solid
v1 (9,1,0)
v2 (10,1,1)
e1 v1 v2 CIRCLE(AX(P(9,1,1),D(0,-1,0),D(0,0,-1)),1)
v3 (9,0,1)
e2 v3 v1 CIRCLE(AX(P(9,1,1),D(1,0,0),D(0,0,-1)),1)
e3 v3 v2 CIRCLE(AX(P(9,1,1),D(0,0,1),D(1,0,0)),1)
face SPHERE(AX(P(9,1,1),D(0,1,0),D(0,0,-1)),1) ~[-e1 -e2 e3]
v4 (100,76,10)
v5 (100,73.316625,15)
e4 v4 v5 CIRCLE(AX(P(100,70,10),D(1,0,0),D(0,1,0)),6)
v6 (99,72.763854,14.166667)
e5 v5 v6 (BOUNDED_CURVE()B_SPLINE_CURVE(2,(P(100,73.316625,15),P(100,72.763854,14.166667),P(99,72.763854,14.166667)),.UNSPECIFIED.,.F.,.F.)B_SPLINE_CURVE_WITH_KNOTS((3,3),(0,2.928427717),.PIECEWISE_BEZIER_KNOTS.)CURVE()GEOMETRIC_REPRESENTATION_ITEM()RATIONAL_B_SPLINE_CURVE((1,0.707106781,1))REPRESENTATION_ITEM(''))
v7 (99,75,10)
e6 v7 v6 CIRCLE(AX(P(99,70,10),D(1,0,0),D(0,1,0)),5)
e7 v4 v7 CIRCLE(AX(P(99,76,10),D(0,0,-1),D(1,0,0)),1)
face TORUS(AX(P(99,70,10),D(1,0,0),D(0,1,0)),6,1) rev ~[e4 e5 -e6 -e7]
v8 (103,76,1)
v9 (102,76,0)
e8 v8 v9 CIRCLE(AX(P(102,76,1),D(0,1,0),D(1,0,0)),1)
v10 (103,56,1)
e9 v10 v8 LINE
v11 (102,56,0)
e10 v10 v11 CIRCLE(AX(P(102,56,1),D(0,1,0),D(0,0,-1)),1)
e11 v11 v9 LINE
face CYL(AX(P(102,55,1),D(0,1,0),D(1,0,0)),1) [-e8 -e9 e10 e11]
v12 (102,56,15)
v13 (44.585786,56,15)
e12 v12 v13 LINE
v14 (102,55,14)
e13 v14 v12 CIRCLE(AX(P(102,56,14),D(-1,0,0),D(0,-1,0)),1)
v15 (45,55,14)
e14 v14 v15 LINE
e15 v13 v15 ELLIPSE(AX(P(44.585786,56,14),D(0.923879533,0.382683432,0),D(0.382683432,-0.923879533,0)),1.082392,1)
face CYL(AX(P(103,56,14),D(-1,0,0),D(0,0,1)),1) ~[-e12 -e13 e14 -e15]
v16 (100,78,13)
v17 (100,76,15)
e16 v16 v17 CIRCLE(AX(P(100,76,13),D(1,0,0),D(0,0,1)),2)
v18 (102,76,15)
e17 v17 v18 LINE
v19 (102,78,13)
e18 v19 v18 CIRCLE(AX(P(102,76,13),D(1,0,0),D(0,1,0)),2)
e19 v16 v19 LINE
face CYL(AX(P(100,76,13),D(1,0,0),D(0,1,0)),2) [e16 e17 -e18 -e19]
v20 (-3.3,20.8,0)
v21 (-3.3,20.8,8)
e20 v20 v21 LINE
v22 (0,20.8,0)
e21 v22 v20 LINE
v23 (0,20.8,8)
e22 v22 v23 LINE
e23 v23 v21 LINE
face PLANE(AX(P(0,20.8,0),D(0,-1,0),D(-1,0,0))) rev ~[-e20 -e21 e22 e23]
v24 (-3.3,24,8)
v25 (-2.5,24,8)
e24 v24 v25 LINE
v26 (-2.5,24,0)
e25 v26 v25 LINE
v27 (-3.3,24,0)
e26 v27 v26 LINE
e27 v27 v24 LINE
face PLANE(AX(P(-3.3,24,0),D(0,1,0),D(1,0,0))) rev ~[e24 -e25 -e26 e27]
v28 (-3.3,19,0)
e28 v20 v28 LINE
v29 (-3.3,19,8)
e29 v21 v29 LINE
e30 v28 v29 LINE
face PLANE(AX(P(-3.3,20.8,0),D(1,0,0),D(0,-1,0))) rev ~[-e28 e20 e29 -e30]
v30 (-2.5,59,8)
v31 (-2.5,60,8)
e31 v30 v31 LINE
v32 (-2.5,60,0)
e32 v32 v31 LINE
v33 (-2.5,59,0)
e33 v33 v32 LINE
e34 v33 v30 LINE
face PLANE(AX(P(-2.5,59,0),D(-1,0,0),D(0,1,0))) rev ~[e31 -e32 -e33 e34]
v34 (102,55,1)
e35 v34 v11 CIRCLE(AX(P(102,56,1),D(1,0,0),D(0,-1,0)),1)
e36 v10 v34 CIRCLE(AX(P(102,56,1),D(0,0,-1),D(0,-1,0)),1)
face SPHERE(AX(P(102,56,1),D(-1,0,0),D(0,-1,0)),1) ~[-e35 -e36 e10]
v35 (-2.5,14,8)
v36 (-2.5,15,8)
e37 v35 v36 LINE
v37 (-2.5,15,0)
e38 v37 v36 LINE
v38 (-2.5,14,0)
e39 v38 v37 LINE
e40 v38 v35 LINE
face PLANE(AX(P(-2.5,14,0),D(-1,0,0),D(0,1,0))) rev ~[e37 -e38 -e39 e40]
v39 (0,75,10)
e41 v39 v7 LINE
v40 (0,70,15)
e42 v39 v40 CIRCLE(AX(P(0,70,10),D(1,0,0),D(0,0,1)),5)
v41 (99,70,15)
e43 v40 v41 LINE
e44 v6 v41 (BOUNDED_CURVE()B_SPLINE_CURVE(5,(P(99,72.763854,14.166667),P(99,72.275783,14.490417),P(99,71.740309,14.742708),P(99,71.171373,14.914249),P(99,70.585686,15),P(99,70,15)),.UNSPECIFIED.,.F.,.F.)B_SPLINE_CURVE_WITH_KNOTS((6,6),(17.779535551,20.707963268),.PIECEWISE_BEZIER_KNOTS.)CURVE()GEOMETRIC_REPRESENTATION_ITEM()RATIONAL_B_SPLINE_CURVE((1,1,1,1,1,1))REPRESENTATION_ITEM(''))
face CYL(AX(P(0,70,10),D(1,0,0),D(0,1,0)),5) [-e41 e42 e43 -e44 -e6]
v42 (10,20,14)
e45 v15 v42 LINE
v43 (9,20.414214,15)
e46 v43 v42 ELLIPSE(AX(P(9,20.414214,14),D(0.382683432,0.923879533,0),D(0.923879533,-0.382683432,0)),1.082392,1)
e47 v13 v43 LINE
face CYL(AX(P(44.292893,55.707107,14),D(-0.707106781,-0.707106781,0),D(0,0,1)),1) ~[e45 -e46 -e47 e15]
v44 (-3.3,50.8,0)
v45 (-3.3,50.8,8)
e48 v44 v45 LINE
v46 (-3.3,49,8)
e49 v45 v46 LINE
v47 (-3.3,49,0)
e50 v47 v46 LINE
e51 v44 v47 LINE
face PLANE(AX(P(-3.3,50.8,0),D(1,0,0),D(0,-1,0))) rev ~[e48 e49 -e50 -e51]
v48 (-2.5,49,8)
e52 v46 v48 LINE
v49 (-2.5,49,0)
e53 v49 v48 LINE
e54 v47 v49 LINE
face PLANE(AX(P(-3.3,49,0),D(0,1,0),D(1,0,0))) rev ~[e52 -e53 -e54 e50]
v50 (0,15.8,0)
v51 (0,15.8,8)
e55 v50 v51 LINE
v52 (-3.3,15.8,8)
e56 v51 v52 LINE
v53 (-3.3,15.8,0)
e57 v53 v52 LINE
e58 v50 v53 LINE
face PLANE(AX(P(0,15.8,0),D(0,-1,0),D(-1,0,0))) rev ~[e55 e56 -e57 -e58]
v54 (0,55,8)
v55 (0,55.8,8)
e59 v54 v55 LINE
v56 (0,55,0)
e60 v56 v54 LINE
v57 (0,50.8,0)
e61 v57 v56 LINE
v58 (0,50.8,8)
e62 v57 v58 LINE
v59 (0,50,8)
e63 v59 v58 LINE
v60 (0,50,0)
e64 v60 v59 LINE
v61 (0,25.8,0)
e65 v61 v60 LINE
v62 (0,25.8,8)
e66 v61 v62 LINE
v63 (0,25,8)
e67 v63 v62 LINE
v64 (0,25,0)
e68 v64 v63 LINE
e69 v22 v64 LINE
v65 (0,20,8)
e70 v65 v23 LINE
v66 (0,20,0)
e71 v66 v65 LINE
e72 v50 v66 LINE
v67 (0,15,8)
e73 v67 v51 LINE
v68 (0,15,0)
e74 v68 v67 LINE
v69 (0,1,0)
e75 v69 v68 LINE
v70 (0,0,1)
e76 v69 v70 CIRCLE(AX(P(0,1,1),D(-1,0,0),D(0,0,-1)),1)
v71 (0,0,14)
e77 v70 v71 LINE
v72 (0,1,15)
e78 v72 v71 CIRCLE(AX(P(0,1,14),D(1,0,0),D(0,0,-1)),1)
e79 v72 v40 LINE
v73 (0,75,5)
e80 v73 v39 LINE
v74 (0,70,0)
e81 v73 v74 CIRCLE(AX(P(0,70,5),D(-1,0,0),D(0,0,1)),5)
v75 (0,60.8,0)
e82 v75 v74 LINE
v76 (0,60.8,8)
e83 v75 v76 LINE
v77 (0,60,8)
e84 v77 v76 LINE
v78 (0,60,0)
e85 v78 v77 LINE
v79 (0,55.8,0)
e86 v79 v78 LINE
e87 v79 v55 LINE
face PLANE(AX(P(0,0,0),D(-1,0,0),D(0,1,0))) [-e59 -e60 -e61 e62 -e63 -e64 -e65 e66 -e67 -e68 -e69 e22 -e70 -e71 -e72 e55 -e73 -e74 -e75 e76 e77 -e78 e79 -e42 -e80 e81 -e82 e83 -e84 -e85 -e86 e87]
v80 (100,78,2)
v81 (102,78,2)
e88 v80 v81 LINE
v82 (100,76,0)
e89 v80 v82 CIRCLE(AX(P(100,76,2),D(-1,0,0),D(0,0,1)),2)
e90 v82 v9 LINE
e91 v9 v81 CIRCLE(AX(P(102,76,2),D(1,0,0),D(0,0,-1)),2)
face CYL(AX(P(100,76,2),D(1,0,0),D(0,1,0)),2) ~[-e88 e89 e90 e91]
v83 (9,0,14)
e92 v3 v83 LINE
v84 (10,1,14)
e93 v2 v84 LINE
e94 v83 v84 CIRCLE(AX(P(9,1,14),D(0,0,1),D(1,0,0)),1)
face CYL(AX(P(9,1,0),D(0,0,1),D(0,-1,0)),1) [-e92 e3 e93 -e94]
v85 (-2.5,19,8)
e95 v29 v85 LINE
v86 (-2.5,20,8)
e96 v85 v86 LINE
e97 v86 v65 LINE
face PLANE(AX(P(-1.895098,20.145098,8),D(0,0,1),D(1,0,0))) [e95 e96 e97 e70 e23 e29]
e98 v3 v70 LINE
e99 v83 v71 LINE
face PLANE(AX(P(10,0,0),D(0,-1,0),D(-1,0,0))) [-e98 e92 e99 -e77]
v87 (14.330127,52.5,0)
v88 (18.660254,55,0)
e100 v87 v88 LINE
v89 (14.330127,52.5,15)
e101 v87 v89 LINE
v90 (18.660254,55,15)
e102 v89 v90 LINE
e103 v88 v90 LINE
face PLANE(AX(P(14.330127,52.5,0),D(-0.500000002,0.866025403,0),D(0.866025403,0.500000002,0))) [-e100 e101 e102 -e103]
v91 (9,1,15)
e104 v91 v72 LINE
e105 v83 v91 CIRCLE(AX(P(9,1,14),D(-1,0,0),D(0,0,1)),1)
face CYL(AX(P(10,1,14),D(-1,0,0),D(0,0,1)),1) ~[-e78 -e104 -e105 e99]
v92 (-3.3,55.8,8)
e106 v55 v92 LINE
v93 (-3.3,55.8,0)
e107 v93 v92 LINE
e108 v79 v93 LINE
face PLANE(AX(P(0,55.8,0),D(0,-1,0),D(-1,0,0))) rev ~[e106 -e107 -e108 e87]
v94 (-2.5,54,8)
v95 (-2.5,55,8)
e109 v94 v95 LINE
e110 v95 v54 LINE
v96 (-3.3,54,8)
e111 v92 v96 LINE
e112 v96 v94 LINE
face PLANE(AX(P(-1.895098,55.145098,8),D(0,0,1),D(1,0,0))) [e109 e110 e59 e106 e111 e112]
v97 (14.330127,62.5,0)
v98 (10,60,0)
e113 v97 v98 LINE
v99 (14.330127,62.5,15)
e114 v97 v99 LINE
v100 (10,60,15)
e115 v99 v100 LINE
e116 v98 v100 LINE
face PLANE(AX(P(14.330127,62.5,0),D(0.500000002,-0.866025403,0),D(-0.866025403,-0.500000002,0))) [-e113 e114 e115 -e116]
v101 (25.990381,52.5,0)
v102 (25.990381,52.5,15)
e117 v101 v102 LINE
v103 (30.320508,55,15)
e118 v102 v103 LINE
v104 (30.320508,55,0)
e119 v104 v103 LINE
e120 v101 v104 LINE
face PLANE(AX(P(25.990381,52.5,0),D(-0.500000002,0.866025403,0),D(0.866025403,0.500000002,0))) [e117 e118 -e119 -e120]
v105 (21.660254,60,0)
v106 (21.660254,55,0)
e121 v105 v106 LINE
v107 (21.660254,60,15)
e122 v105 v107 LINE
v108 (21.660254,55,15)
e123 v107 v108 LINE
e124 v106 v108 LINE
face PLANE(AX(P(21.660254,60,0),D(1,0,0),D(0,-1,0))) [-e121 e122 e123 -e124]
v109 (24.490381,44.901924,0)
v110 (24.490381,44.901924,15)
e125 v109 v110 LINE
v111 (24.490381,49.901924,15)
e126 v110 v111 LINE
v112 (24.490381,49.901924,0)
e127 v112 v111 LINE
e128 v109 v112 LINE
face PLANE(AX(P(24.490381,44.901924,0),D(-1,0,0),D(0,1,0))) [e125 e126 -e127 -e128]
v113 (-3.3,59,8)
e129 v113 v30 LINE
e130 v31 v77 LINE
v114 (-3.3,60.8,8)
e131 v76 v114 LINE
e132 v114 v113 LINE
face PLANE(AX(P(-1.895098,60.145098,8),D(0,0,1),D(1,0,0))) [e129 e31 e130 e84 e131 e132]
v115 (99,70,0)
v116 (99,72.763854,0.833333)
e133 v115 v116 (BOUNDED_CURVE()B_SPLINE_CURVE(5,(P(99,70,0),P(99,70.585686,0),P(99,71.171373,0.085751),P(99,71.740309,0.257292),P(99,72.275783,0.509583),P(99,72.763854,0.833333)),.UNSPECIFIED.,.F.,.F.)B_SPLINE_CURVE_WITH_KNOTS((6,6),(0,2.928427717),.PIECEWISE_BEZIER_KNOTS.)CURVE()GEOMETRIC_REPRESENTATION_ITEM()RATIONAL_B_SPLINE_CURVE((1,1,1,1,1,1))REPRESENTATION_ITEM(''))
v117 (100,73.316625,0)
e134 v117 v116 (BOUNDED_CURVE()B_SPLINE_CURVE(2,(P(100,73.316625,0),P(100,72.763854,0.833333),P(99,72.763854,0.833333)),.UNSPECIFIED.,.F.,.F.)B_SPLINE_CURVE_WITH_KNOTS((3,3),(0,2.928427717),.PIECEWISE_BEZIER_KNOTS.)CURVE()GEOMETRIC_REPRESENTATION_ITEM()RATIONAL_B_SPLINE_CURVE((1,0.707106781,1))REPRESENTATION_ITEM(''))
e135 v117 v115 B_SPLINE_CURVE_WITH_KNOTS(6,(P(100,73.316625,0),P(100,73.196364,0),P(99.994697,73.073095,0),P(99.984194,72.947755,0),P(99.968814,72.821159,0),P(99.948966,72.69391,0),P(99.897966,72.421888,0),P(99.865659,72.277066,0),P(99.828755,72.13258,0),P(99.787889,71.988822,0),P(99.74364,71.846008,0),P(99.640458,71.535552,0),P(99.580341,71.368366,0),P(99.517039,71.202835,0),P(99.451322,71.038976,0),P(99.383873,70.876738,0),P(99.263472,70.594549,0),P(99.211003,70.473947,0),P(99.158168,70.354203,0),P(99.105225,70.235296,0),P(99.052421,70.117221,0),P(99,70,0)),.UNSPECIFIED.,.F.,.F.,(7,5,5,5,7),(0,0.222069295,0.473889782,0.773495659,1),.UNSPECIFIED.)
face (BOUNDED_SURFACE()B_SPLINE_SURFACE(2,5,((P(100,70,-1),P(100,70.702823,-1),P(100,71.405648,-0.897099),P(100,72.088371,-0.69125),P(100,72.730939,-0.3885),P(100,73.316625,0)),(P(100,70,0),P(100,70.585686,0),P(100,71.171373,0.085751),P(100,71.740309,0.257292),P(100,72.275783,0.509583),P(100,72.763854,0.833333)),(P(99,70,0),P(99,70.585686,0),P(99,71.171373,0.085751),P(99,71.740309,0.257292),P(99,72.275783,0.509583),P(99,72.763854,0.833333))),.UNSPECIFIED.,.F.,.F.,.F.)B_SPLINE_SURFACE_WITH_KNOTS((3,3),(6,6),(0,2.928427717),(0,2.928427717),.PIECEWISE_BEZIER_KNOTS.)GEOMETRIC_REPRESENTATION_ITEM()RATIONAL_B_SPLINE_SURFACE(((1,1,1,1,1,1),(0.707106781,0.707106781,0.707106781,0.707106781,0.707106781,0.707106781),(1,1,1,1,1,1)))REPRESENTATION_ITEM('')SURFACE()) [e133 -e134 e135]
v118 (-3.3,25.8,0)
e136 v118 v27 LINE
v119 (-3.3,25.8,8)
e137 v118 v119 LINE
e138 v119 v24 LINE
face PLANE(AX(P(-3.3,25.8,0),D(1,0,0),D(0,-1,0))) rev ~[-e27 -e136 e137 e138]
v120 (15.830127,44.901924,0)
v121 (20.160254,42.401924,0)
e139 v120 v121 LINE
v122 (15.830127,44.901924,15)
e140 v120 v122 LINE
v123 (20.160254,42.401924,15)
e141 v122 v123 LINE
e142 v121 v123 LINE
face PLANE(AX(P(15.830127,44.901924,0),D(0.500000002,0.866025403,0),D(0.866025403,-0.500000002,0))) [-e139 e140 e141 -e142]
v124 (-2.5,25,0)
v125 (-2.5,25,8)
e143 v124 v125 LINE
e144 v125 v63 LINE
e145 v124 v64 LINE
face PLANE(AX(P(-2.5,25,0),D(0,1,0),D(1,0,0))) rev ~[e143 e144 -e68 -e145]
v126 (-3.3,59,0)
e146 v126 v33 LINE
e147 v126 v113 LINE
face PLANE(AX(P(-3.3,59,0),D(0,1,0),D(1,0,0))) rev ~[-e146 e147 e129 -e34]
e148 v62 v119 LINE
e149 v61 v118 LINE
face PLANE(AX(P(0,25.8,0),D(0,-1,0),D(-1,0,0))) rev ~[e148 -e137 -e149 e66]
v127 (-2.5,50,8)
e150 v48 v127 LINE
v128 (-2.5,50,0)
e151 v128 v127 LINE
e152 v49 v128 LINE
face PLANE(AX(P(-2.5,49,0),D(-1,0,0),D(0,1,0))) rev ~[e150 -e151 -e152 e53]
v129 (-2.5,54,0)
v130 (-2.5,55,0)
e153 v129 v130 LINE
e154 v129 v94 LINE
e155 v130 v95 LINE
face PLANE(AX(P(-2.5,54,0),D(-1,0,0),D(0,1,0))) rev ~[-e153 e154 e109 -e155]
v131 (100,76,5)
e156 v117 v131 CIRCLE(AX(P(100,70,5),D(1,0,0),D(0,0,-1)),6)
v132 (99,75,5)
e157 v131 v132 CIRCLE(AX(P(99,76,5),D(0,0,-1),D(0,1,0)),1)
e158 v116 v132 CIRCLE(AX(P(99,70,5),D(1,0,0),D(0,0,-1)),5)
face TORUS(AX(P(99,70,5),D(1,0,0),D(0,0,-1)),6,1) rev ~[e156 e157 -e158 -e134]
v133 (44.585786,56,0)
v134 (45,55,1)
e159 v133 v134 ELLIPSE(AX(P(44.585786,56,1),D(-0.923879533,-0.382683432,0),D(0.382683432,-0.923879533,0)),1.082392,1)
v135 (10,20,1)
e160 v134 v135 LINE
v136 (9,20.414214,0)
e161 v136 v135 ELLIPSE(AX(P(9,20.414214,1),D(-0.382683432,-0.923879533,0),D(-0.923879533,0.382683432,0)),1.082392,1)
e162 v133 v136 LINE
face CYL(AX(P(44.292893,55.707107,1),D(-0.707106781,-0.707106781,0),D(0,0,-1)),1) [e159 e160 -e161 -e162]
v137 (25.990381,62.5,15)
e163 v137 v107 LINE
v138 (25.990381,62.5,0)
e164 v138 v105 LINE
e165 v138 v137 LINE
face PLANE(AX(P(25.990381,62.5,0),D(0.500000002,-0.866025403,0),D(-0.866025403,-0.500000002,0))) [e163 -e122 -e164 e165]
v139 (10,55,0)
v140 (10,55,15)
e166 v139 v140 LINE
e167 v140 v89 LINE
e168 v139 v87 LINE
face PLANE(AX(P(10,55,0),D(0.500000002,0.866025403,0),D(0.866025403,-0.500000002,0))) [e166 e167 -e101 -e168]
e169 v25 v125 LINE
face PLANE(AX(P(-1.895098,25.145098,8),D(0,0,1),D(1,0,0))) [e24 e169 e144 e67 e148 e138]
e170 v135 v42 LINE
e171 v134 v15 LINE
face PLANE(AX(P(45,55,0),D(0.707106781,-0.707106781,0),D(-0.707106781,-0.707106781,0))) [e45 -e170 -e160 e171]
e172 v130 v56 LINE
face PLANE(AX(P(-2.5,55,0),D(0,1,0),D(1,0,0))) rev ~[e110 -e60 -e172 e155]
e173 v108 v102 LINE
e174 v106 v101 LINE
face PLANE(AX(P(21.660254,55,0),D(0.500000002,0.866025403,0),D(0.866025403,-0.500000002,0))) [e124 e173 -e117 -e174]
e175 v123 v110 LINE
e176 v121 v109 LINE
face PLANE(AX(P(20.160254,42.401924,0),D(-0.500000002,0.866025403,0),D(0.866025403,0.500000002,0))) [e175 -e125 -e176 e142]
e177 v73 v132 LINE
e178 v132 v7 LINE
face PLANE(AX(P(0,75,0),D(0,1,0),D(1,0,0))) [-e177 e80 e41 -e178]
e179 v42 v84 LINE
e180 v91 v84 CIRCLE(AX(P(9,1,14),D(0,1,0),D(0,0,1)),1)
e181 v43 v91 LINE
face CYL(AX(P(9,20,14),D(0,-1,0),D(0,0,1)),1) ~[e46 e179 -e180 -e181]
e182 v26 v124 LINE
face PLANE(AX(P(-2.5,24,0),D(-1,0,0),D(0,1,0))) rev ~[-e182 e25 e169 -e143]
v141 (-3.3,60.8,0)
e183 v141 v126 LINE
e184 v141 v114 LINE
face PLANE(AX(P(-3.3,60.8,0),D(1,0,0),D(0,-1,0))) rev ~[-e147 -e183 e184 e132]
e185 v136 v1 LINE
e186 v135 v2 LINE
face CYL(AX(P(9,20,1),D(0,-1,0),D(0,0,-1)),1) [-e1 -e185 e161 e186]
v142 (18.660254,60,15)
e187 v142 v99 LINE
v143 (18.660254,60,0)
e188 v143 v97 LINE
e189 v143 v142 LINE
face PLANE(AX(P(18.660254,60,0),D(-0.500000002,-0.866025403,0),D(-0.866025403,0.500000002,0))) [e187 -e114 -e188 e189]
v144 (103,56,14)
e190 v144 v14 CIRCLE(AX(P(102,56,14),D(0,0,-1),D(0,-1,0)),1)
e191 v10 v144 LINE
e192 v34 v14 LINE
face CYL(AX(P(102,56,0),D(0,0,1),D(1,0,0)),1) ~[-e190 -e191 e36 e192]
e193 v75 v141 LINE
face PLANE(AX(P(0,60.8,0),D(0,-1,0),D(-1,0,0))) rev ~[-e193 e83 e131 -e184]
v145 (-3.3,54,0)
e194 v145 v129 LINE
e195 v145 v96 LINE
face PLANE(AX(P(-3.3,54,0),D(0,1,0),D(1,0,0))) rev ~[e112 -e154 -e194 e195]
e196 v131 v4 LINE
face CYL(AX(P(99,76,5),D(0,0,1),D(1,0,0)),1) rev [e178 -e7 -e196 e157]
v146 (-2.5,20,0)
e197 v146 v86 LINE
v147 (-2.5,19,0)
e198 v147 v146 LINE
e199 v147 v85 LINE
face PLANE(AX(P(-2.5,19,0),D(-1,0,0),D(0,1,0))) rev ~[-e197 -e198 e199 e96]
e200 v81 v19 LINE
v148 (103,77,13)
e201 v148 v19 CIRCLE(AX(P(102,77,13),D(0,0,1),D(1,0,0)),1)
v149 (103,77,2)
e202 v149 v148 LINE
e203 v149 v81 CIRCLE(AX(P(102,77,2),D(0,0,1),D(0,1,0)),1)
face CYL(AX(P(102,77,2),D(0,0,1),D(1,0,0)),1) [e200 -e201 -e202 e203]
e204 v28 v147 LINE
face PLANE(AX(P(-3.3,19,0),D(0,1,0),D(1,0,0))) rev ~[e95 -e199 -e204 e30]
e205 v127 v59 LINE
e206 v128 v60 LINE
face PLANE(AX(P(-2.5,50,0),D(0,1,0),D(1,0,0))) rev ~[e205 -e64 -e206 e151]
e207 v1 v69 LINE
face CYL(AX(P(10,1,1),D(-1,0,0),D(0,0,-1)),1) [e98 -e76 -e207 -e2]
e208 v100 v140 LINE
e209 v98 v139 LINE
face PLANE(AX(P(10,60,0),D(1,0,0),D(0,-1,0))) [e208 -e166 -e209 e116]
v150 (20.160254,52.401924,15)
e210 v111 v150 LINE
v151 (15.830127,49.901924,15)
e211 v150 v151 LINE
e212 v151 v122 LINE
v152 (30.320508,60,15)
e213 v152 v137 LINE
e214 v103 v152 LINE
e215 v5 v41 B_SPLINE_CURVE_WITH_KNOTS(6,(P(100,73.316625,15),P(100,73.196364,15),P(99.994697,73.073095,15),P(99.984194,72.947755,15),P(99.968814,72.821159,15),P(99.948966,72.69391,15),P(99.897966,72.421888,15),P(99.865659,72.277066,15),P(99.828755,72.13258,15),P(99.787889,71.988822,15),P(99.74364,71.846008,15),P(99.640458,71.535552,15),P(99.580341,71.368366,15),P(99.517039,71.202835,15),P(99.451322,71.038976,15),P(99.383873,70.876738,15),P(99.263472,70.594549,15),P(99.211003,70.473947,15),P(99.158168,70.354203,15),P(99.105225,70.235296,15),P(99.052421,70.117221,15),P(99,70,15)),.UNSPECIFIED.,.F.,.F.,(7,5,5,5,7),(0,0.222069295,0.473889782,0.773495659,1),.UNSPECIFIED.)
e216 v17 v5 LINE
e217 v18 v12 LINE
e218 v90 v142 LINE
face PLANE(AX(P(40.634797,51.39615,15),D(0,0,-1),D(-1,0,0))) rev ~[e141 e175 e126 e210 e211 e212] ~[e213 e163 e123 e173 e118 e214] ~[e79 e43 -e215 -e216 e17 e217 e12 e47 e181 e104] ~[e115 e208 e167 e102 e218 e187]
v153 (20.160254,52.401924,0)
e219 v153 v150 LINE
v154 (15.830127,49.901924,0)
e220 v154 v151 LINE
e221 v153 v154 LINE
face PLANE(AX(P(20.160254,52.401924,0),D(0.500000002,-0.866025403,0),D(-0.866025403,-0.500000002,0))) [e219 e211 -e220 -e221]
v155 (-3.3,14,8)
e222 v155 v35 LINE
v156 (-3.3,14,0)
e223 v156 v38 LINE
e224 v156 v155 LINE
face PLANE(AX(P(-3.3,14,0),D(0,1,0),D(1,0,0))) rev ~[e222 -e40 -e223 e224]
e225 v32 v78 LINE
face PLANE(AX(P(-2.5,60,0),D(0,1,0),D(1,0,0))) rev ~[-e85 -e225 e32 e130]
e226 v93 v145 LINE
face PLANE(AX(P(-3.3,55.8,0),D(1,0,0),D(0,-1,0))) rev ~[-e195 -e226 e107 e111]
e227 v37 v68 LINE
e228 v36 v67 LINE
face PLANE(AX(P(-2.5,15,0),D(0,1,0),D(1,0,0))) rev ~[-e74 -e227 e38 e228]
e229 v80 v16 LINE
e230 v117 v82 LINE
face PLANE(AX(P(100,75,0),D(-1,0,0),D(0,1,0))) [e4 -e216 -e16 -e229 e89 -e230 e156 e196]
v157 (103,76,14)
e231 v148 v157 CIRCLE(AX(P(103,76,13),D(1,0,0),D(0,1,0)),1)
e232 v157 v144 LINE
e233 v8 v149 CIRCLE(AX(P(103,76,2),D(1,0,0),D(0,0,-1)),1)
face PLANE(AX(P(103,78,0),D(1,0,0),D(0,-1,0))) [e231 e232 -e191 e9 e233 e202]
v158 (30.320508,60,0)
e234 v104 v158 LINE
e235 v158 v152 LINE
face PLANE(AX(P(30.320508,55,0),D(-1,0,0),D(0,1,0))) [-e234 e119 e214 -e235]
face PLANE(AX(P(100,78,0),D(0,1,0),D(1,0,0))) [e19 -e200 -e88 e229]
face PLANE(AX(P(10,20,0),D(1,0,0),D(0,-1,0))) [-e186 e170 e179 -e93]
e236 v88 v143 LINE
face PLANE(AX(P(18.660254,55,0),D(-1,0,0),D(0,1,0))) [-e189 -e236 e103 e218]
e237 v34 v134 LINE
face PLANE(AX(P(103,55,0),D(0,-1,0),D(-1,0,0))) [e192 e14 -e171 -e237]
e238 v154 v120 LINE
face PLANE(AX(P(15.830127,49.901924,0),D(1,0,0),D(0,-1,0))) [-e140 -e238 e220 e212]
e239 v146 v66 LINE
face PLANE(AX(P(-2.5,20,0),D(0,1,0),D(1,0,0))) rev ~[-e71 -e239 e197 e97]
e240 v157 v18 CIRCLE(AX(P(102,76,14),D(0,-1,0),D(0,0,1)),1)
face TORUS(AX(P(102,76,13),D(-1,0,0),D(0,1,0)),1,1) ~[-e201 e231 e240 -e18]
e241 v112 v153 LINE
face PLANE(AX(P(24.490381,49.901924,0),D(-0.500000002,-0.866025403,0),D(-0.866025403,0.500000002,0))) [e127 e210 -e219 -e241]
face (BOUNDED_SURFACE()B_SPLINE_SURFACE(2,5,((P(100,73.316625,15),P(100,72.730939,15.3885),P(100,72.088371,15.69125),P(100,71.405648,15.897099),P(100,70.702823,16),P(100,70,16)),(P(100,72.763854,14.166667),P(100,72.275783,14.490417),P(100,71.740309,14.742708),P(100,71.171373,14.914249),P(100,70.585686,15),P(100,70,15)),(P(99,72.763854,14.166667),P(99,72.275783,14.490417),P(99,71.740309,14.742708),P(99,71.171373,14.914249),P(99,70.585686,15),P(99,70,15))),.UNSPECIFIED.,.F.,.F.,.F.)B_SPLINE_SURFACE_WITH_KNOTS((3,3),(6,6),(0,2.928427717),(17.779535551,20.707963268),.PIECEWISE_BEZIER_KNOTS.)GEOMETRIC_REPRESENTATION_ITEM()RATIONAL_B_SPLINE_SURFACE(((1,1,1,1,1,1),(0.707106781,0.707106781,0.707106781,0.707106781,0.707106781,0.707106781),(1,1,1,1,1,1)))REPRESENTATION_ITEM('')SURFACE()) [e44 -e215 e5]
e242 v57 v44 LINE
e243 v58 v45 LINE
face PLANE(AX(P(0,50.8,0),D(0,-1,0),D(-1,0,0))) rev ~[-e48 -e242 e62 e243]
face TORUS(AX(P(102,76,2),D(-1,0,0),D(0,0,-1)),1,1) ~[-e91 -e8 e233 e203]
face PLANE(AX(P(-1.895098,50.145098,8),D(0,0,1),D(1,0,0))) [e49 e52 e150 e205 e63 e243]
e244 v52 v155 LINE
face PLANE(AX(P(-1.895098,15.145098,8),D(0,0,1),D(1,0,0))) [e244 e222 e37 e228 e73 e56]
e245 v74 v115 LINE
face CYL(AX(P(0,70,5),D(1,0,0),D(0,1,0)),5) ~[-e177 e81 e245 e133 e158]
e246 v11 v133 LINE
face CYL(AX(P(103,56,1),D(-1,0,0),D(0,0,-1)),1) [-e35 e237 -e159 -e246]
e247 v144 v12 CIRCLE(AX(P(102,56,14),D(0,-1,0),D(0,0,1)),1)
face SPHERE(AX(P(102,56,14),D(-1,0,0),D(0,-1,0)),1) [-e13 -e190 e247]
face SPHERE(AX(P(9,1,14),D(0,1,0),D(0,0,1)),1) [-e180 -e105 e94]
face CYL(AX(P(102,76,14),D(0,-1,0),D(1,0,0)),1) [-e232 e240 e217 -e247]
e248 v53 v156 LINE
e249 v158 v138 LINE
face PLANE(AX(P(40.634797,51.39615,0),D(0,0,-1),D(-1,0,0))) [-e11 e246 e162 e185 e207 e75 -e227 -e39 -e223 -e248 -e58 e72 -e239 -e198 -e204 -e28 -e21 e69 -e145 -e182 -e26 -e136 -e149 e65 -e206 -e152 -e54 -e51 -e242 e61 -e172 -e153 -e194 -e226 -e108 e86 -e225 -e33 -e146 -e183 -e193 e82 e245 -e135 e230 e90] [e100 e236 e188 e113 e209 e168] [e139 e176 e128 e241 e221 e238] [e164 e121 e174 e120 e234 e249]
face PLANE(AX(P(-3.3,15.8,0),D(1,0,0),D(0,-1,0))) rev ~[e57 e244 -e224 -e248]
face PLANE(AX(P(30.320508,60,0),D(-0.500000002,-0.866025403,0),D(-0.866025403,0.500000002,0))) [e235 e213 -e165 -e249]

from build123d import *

# Parameters (mm, degrees)
PAD_DEPTH    = 15
FILLET_R     = 5
FILLET001_R  = 2
FILLET002_R  = 1
FILLET003_R  = 1
PAD001_DEPTH = 8


with BuildPart() as part:
    # Sketch → Pad (new body)
    with BuildSketch(Plane.XY):
        Polygon((0, 0), (0, 75), (100, 75), (100, 78), (103, 78), (103, 55), (45, 55), (10, 20), (10, 0), align=None)
        Polygon((18.660254, 55), (18.660254, 60), (14.330127, 62.5), (10, 60), (10, 55), (14.330127, 52.5), align=None, mode=Mode.SUBTRACT)
        Polygon((24.490381, 44.901924), (24.490381, 49.901924), (20.160254, 52.401924), (15.830127, 49.901924), (15.830127, 44.901924), (20.160254, 42.401924), align=None, mode=Mode.SUBTRACT)
        Polygon((30.320508, 55), (30.320508, 60), (25.990381, 62.5), (21.660254, 60), (21.660254, 55), (25.990381, 52.5), align=None, mode=Mode.SUBTRACT)
    extrude(amount=PAD_DEPTH)

    # Fillet
    fillet_edges = [part.edges().sort_by_distance(p)[0] for p in [
        (50, 75, 15),
        (50, 75, 0),
    ]]
    fillet(fillet_edges, radius=FILLET_R)

    # Fillet001
    fillet001_edges = [part.edges().sort_by_distance(p)[0] for p in [
        (101.5, 78, 15),
        (101.5, 78, 0),
    ]]
    fillet(fillet001_edges, radius=FILLET001_R)

    # Fillet002
    fillet002_edges = [part.edges().sort_by_distance(p)[0] for p in [
        (10, 10, 15),
        (27.5, 37.5, 15),
        (27.5, 37.5, 0),
        (10, 10, 0),
        (74, 55, 15),
        (74, 55, 0),
        (103, 55, 7.5),
        (5, 0, 15),
        (5, 0, 0),
        (10, 0, 7.5),
        (103, 65.5, 15),
        (103, 65.5, 0),
        (103, 78, 7.5),
        (103, 77.414214, 14.414214),
        (103, 77.414214, 0.585786),
    ]]
    fillet(fillet002_edges, radius=FILLET002_R)

    # Fillet003
    fillet003_edges = [part.edges().sort_by_distance(p)[0] for p in [
        (100, 73.535534, 13.535534),
        (100, 75, 7.5),
        (100, 73.535534, 1.464466),
    ]]
    fillet(fillet003_edges, radius=FILLET003_R)

    # Sketch003 → Pad001 (join)
    with BuildSketch(Plane.XY):
        Polygon((0, 60.8), (-3.3, 60.8), (-3.3, 59), (-2.5, 59), (-2.5, 60), (0, 60), align=None)
        Polygon((0, 55), (0, 55.8), (-3.3, 55.8), (-3.3, 54), (-2.5, 54), (-2.5, 55), align=None)
        Polygon((0, 50.8), (-3.3, 50.8), (-3.3, 49), (-2.5, 49), (-2.5, 50), (0, 50), align=None)
        Polygon((0, 25.8), (-3.3, 25.8), (-3.3, 24), (-2.5, 24), (-2.5, 25), (0, 25), align=None)
        Polygon((0, 20.8), (-3.3, 20.8), (-3.3, 19), (-2.5, 19), (-2.5, 20), (0, 20), align=None)
        Polygon((0, 15.8), (-3.3, 15.8), (-3.3, 14), (-2.5, 14), (-2.5, 15), (0, 15), align=None)
    extrude(amount=PAD001_DEPTH)


solid = part.part
